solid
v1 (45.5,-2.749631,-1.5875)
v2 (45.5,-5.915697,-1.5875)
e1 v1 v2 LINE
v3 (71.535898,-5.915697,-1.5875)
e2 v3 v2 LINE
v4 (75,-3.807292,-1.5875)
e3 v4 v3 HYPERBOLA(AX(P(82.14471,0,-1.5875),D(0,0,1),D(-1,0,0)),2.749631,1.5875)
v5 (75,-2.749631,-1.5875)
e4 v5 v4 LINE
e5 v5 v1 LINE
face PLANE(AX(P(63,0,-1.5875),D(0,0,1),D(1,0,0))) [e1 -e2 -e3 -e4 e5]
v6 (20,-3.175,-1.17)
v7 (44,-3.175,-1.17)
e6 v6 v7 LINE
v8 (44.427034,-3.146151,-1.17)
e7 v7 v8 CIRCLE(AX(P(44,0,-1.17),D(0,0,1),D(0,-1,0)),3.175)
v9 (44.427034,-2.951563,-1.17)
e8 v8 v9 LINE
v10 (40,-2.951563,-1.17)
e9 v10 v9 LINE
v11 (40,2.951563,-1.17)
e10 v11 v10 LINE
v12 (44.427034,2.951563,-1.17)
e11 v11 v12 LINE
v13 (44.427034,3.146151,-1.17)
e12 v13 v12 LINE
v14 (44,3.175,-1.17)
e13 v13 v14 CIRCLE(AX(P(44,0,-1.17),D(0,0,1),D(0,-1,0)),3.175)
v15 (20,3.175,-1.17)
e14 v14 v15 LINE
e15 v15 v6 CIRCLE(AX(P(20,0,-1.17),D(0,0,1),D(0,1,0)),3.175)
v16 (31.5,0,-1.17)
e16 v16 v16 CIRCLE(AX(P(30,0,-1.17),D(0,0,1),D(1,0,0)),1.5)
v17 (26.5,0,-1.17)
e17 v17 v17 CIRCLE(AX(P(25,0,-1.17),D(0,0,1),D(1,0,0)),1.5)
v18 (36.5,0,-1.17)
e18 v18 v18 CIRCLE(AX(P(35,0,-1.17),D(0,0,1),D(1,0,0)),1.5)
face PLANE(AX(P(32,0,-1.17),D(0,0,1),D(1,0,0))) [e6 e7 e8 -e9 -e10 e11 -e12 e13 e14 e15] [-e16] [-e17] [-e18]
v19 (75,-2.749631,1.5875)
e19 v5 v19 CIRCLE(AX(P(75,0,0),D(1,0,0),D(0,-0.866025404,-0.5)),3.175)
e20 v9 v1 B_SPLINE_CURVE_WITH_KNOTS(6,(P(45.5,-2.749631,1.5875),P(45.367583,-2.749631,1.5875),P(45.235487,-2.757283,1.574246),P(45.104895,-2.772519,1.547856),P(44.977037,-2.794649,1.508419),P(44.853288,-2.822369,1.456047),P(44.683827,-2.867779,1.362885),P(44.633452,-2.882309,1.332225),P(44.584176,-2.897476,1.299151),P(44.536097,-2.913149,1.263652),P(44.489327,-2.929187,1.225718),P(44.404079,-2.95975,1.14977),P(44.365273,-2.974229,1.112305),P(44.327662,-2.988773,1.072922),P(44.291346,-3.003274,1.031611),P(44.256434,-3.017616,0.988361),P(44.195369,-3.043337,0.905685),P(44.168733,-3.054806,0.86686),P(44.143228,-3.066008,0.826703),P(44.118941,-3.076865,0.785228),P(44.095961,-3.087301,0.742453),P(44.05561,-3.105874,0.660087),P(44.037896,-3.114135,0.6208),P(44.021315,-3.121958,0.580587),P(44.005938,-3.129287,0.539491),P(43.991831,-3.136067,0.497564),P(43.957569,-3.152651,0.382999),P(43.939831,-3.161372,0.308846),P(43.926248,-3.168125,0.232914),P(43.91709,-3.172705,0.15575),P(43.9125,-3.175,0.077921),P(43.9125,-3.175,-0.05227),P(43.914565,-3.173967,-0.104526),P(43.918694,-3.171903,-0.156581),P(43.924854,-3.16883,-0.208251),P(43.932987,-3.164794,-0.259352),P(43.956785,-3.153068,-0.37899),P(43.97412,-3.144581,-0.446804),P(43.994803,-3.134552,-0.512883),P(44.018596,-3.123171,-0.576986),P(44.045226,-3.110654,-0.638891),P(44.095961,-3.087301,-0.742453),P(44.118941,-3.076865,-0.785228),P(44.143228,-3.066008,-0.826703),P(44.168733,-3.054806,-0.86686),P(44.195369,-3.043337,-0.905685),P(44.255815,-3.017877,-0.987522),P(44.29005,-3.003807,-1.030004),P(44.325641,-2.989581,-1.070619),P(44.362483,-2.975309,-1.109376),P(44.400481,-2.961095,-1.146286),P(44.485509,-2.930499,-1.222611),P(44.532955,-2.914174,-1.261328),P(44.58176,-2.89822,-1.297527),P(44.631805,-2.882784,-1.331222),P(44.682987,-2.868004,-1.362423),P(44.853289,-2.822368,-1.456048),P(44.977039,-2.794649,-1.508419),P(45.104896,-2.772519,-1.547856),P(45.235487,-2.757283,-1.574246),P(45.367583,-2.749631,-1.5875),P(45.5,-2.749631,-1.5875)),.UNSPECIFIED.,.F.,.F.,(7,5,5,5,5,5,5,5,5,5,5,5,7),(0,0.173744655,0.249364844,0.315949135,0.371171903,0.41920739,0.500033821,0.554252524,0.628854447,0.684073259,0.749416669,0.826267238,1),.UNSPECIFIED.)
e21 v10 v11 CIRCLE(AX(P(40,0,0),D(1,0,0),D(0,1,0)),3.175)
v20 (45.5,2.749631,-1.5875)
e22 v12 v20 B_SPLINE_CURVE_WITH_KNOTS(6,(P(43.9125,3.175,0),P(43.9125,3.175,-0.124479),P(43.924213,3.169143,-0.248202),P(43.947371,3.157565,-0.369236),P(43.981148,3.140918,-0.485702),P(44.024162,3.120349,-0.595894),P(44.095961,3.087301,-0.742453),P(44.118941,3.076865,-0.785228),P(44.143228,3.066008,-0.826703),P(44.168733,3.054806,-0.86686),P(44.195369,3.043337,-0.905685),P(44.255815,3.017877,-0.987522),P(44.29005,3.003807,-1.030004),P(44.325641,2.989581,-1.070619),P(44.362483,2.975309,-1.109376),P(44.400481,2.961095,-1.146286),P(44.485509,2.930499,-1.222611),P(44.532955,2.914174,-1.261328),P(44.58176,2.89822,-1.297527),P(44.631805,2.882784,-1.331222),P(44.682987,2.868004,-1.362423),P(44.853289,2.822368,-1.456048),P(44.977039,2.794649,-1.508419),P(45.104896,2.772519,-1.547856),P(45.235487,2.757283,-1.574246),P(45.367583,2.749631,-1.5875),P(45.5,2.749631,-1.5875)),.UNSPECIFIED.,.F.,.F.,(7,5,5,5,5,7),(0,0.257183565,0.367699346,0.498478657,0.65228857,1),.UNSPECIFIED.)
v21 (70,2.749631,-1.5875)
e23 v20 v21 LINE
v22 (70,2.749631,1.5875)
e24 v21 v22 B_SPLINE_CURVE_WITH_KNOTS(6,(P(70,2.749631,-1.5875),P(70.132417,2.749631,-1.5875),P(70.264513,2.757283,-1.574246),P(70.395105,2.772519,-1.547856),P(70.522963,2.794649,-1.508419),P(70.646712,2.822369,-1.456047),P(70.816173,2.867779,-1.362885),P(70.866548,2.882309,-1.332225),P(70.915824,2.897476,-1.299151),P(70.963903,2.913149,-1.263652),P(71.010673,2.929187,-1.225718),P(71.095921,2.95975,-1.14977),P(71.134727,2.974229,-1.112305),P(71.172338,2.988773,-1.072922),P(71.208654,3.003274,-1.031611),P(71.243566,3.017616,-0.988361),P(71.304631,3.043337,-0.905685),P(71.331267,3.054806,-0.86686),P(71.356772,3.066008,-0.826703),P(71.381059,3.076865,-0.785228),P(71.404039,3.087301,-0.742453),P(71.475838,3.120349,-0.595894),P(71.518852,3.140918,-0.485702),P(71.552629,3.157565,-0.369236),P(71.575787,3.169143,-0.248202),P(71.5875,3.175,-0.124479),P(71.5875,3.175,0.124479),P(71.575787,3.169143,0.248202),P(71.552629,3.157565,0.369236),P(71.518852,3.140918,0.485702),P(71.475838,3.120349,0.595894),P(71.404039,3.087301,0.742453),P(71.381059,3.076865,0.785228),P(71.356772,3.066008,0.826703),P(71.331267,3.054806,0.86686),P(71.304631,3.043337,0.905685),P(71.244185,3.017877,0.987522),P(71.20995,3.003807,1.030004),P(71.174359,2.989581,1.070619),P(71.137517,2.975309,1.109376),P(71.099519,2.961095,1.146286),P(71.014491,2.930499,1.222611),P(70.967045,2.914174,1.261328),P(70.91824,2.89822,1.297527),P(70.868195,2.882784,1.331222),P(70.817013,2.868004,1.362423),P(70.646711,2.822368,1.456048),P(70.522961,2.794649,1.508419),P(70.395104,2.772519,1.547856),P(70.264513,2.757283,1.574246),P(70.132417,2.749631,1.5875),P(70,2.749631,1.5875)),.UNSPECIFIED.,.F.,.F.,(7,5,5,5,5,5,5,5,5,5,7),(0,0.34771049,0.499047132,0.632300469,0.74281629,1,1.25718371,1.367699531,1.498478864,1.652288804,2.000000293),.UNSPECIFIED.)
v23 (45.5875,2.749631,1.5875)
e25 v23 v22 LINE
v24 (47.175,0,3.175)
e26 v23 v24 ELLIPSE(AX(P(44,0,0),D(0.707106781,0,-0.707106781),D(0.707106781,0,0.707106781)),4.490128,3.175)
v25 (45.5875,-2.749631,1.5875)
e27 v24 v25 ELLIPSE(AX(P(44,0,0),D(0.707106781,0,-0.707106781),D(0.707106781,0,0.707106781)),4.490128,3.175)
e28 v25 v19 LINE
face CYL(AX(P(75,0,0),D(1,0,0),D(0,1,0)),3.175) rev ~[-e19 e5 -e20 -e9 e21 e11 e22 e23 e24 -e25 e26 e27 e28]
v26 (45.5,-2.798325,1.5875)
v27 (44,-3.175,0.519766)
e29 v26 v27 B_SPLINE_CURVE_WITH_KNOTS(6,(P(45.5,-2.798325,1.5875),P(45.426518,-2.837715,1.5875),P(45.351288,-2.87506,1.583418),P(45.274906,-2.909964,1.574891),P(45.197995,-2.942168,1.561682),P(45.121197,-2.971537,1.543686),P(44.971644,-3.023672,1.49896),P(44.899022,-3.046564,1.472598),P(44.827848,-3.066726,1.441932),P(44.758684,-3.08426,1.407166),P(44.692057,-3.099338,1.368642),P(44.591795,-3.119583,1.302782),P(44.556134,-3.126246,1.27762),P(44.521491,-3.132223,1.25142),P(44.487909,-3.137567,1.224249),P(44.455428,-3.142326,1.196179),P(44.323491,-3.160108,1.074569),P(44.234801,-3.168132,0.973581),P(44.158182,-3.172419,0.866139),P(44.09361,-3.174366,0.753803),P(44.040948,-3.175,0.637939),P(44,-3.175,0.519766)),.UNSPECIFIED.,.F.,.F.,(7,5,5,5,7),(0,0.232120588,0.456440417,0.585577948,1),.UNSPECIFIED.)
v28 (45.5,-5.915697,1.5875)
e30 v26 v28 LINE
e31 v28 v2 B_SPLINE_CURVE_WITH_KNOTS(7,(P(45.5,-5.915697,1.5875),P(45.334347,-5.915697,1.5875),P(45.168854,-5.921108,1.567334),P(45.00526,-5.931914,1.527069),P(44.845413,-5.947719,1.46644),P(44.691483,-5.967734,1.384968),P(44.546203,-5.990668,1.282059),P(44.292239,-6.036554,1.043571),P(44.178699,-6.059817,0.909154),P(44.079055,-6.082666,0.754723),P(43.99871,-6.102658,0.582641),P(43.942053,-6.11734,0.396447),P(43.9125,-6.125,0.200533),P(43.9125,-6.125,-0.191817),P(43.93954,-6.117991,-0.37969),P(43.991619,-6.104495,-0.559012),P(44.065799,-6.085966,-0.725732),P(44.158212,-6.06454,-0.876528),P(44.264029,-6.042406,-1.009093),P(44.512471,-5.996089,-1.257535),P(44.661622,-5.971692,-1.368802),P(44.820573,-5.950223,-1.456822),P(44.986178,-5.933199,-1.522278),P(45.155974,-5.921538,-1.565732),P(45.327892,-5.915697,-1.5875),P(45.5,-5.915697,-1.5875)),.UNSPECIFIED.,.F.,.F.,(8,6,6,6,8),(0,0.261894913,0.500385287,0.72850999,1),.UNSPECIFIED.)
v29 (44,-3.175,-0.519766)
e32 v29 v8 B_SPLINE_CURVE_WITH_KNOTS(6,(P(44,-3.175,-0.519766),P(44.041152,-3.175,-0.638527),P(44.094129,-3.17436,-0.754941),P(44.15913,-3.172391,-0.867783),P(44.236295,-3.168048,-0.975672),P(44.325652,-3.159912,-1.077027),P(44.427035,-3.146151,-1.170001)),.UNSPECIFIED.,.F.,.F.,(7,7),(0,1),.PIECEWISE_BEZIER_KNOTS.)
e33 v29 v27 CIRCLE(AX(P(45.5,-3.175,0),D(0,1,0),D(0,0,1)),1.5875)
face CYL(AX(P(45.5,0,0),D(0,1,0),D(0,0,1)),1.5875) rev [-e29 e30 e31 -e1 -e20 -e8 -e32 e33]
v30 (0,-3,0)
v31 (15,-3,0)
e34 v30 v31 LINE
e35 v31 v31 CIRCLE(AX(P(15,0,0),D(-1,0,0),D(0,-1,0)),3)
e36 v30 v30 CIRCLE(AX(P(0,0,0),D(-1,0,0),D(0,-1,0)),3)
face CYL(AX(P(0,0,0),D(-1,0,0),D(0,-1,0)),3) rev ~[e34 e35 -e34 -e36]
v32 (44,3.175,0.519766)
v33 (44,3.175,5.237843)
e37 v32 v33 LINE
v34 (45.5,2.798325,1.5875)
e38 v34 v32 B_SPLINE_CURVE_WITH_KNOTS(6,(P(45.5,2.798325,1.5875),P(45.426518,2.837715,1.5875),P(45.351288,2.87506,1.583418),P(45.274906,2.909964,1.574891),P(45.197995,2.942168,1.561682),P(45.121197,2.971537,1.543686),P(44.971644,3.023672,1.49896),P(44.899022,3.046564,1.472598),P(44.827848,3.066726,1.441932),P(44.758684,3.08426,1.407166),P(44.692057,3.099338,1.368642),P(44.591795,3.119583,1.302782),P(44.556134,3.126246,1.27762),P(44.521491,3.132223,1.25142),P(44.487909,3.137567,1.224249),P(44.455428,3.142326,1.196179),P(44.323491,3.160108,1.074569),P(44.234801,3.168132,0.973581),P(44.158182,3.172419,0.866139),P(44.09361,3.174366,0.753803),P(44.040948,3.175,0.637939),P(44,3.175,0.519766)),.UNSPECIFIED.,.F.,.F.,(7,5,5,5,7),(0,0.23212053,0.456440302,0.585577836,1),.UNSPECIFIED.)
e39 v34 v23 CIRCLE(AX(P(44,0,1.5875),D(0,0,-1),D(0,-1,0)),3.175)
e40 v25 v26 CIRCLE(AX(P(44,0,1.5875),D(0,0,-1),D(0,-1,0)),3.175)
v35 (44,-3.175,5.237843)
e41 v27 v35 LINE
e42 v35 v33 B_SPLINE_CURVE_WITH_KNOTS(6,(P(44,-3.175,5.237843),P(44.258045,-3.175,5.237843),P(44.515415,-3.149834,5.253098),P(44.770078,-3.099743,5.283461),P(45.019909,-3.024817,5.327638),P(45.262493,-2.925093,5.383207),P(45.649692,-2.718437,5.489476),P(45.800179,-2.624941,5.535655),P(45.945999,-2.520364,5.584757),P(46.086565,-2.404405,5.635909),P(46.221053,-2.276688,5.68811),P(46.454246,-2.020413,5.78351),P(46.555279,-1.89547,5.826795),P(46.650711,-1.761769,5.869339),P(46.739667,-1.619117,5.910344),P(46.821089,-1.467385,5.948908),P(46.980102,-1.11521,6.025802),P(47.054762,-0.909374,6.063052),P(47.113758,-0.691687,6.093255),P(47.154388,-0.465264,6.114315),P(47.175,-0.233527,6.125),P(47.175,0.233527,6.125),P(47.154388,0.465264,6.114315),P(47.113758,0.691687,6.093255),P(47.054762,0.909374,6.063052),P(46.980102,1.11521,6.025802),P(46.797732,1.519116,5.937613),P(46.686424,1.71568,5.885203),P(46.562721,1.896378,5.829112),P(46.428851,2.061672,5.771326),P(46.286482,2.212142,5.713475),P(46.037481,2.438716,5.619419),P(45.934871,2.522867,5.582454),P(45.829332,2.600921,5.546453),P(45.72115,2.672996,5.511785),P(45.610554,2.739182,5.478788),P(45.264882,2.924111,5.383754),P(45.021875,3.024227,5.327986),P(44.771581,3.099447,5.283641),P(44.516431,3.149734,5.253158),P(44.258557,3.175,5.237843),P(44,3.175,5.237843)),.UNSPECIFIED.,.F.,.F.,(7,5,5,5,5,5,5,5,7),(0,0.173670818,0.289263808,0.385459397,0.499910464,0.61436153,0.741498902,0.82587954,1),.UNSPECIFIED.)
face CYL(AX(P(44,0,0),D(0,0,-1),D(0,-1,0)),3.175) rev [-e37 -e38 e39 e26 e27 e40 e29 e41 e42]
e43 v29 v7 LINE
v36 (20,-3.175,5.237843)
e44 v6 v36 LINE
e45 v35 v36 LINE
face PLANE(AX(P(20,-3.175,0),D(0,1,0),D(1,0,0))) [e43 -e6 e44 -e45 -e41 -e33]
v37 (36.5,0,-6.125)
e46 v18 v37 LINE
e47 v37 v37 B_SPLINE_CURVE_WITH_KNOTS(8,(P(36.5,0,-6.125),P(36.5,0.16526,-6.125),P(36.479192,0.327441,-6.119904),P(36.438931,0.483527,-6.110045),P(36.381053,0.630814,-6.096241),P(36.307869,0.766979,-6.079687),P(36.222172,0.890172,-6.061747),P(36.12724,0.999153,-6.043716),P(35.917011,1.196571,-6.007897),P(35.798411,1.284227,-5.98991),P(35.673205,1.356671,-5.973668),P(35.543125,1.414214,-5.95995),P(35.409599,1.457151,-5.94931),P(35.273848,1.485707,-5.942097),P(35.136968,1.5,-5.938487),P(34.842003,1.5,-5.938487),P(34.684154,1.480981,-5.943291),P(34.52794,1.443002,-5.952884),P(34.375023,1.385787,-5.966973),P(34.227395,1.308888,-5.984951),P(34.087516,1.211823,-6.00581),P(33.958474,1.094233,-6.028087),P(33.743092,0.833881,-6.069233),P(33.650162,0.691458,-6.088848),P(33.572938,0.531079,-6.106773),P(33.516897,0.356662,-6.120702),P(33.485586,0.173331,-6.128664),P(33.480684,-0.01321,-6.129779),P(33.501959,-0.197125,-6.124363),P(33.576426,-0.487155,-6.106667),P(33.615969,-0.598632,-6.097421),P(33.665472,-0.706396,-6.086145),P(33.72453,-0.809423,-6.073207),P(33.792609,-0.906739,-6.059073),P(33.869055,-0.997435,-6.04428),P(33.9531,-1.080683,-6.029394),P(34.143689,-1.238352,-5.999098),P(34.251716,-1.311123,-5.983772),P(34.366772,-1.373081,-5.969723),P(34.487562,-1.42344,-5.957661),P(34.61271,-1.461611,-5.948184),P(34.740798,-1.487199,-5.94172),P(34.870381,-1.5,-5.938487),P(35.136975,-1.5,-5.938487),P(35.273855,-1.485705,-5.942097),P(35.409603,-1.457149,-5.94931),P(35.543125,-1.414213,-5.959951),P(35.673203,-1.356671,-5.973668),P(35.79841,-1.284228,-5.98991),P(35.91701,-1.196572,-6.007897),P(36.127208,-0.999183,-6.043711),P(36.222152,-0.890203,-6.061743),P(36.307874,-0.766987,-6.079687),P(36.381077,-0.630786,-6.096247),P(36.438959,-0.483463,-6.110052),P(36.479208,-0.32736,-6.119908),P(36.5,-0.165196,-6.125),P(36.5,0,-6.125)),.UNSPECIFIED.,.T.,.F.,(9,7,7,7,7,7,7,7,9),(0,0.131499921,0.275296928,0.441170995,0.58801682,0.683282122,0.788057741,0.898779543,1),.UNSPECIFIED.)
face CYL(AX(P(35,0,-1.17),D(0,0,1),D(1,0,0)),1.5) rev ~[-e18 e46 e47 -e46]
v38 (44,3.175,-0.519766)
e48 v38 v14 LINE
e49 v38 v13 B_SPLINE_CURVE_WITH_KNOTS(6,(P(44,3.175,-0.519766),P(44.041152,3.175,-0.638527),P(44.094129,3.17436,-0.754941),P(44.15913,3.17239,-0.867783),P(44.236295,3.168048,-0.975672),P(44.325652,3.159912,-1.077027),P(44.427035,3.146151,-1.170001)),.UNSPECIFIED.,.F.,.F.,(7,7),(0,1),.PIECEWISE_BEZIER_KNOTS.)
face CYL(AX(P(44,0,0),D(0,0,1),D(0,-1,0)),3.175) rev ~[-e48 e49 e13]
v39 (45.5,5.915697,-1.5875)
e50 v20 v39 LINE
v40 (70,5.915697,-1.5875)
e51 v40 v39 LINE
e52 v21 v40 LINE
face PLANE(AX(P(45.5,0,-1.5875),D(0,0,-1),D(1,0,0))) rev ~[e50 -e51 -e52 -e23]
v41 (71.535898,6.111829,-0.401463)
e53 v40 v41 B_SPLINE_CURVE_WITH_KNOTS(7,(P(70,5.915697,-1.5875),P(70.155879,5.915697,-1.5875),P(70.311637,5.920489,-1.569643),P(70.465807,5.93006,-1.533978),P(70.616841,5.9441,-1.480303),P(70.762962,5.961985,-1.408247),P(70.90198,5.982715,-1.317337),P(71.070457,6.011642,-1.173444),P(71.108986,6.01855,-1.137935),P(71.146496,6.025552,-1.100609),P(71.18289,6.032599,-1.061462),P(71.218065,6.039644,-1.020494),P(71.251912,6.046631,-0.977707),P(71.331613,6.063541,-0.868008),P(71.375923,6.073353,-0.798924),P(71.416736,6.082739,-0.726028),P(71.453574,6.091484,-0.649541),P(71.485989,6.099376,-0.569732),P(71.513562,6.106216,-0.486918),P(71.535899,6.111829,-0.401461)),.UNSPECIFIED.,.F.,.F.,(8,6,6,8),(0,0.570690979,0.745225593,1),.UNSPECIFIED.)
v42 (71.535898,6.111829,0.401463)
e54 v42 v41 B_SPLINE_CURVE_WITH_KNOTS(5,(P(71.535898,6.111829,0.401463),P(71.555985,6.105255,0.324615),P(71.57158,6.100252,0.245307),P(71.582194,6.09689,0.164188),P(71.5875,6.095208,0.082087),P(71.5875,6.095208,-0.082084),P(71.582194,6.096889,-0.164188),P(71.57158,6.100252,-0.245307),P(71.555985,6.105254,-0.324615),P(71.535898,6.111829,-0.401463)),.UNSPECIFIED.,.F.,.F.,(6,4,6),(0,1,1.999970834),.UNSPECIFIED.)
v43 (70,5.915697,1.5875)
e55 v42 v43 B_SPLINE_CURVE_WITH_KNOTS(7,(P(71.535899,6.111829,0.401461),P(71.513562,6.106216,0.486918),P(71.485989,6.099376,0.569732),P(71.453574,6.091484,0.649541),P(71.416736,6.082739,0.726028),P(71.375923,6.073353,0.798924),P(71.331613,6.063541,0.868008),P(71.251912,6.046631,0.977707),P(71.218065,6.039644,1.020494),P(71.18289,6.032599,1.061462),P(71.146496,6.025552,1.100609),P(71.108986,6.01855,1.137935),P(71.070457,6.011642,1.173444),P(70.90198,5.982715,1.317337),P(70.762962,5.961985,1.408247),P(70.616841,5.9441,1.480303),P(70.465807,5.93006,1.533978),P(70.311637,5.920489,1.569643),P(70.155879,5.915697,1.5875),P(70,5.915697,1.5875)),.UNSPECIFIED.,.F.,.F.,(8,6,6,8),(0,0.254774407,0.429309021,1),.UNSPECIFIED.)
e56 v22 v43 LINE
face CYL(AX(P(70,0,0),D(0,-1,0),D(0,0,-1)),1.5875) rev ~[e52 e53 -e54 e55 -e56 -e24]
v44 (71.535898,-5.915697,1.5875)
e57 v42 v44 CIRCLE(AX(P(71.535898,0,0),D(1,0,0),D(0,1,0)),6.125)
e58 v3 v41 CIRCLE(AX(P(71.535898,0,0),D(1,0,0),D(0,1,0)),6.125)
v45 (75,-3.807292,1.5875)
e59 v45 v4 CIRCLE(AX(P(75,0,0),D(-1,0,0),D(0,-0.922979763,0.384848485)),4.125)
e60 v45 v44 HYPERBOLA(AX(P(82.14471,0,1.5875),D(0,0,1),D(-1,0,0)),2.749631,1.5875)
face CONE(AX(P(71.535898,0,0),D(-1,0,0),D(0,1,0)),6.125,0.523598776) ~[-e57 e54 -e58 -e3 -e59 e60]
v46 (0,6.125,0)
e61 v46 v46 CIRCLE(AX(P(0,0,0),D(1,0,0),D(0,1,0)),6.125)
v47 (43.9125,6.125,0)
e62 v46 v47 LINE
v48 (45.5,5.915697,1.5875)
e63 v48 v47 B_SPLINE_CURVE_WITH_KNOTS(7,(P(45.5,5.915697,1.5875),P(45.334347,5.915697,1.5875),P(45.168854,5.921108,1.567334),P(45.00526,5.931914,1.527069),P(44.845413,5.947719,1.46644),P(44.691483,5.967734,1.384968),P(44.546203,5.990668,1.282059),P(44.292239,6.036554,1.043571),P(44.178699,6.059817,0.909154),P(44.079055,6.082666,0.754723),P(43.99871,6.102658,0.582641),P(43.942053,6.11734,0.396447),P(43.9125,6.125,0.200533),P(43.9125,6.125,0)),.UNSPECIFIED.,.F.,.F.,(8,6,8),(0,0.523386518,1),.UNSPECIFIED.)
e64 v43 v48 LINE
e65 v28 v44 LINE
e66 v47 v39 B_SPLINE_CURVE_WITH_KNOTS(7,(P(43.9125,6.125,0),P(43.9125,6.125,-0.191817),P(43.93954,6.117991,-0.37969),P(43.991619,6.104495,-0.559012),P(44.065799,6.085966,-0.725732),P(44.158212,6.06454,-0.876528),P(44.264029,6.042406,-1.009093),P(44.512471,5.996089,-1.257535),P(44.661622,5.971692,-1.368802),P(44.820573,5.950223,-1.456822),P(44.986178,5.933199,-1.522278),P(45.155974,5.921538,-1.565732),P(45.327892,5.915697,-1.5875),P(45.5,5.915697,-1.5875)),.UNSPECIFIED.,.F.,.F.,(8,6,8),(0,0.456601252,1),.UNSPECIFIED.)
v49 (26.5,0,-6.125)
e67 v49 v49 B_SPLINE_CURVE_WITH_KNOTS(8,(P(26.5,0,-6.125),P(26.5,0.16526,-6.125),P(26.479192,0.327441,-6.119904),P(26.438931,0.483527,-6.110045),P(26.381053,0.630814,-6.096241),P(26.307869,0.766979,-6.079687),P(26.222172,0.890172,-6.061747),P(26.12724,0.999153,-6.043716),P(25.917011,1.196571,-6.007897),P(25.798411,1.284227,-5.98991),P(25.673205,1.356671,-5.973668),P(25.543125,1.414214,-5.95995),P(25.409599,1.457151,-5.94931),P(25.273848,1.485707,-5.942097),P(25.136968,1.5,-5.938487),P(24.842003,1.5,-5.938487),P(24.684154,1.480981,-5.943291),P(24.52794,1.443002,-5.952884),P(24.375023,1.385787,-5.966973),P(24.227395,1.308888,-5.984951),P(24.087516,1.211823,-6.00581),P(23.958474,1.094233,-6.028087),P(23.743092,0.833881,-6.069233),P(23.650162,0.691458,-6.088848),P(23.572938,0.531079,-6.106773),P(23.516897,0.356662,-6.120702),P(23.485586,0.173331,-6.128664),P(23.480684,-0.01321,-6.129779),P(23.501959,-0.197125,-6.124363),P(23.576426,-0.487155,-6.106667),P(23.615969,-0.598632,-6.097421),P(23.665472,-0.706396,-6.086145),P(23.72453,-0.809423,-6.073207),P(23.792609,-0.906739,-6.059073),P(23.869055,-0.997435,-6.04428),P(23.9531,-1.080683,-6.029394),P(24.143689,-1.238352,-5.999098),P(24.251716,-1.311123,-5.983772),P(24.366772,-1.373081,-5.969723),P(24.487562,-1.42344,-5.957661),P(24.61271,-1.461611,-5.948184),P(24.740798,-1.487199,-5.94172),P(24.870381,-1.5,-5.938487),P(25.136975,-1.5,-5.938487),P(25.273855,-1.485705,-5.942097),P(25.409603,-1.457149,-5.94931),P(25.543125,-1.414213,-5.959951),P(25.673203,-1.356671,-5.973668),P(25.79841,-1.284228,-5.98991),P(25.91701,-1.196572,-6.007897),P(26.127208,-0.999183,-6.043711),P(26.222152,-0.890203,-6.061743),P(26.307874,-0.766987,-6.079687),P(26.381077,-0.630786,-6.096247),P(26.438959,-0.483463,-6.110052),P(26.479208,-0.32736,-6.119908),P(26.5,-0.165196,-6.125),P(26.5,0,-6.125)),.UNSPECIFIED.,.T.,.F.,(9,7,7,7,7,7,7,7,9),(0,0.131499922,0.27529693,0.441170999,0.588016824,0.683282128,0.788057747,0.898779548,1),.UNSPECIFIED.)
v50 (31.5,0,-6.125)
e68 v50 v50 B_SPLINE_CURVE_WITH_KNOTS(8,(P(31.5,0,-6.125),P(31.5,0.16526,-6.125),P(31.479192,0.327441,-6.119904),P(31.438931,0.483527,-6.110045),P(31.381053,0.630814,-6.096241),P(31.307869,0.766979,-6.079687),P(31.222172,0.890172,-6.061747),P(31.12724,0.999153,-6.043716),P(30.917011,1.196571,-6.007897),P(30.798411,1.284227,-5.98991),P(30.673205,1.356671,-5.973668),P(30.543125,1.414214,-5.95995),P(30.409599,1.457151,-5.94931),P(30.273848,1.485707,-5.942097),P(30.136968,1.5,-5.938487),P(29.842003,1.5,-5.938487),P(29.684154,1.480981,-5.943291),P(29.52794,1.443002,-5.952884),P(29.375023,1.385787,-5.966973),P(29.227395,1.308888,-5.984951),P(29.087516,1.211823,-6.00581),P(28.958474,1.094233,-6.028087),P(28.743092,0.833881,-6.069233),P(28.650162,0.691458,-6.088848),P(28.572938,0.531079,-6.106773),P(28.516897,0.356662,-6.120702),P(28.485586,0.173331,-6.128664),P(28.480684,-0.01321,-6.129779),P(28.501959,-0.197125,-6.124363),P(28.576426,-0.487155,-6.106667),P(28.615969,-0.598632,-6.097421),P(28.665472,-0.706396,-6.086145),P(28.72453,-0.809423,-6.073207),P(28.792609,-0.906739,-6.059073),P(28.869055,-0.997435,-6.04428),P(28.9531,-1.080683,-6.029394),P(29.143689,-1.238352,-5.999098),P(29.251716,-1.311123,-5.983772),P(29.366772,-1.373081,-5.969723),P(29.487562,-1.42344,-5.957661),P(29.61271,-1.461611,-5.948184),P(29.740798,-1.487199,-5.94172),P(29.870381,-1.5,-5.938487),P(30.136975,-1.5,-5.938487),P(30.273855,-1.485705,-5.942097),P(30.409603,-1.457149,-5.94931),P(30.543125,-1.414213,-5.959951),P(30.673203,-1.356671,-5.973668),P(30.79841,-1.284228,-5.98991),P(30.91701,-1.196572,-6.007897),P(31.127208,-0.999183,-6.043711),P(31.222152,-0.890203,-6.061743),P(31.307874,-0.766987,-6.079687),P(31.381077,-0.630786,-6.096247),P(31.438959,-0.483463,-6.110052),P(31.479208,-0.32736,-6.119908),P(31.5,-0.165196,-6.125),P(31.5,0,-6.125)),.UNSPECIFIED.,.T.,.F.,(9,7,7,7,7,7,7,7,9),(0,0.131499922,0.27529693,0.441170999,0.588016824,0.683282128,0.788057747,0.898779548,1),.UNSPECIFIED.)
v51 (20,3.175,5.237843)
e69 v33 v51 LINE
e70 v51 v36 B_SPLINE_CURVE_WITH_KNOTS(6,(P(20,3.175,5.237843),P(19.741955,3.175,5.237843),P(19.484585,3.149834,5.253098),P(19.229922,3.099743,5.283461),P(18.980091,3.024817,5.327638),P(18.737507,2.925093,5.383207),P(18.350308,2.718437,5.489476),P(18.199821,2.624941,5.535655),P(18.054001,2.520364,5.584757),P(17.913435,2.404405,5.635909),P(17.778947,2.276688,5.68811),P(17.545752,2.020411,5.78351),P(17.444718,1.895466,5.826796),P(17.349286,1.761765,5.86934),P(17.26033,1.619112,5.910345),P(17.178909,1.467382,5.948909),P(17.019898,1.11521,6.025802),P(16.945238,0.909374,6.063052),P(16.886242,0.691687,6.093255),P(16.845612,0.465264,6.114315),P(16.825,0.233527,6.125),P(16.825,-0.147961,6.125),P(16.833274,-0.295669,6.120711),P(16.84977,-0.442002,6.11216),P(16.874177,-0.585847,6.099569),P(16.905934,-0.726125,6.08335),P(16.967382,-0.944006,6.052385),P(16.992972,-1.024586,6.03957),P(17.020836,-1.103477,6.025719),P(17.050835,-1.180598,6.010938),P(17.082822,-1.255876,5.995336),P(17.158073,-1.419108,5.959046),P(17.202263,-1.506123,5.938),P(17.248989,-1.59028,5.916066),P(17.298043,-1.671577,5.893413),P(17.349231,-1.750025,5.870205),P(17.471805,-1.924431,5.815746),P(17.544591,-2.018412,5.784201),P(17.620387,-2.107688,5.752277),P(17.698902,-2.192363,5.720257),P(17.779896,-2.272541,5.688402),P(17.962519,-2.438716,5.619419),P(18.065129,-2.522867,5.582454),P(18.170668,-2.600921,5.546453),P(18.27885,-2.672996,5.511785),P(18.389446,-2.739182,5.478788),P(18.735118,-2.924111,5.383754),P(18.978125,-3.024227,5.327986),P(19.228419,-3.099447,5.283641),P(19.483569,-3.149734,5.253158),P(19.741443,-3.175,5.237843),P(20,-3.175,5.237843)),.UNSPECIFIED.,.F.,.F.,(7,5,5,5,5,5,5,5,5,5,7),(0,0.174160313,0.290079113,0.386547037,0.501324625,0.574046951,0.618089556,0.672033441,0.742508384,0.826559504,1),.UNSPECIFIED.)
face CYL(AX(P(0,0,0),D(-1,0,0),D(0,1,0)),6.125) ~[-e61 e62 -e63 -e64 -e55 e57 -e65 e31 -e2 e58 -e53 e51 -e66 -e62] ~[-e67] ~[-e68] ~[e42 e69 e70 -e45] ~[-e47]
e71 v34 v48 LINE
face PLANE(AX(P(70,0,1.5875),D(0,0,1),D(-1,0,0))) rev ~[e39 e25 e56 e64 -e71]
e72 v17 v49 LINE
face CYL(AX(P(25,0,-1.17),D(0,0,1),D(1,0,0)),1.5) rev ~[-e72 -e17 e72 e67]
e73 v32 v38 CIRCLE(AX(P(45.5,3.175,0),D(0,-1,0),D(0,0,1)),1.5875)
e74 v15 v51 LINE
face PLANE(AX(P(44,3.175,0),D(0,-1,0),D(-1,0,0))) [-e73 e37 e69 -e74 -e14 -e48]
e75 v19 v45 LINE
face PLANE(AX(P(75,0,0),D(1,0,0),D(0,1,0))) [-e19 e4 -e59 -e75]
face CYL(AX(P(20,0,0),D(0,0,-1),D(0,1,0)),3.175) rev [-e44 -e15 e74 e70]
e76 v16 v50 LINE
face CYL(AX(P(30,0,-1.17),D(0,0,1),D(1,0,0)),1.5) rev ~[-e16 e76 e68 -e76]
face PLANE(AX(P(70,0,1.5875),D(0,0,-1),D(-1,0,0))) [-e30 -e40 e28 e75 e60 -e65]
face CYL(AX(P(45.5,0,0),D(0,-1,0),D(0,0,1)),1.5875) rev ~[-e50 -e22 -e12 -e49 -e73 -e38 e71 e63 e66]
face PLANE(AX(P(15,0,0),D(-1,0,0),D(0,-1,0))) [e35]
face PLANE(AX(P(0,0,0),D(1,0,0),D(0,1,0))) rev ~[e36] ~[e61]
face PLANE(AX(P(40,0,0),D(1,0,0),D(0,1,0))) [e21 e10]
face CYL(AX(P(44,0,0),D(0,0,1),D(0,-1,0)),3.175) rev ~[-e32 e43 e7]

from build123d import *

# Parameters (mm, degrees)
F0_R           = 6.125
F1_DEPTH       = 75
F2_R           = 3.175
F3_DEPTH       = 35
F4_R           = 3
F5_DEPTH       = 15
F6_SIZE2       = 3.4641016151
F6_SIZE        = 2
F8_DEPTH       = 6.126
F8_DEPTH_BACK  = 1.17
F10_DEPTH      = 6.1260001
F10_DEPTH_BACK = 6.1260001
F11_W          = 15
F11_H          = 3.175
F12_DEPTH      = 25.0000003725
F13_R          = 1.5
F14_DEPTH      = 4.9560001


with BuildPart() as f1:
    # F0 (on Right) → F1 (new body)
    with BuildSketch(Plane.YZ):
        Circle(F0_R)
    extrude(amount=F1_DEPTH)

    # F2 (on face) → F3 (cut)
    with BuildSketch(Plane.YZ.offset(75)):
        Circle(F2_R)
    extrude(amount=-F3_DEPTH, mode=Mode.SUBTRACT)

    # F4 (on face) → F5 (cut)
    with BuildSketch(Plane(origin=(0, 0, 0), x_dir=(0, -1, 0), z_dir=(-1, 0, 0))):
        Circle(F4_R)
    extrude(amount=-F5_DEPTH, mode=Mode.SUBTRACT)

    # F6
    f6_edges = [f1.edges().sort_by_distance(p)[0] for p in [
        (75, -6.125, 0),
    ]]
    f6_side = f1.faces().sort_by_distance((75, -5.951759, 0))[0]
    chamfer(f6_edges, length=F6_SIZE, length2=F6_SIZE2, reference=f6_side)

    # F7 (on Top) → F8 (cut, two sides)
    with BuildSketch(Plane.XY) as f8_sk:
        with BuildLine():
            Line((44, 3.175), (20, 3.175))
            ThreePointArc((20, 3.175), (16.825, 0), (20, -3.175))
            Line((20, -3.175), (44, -3.175))
            ThreePointArc((44, -3.175), (47.175, 0), (44, 3.175))
        make_face()
    extrude(amount=F8_DEPTH, mode=Mode.SUBTRACT)
    extrude(f8_sk.sketch, amount=-F8_DEPTH_BACK, mode=Mode.SUBTRACT)

    # F9 (on Front) → F10 (cut, two sides)
    with BuildSketch(Plane.XZ) as f10_sk:
        with BuildLine():
            Line((70, 1.5875), (45.5, 1.5875))
            ThreePointArc((45.5, 1.5875), (43.9125, 0), (45.5, -1.5875))
            Line((45.5, -1.5875), (70, -1.5875))
            ThreePointArc((70, -1.5875), (71.5875, 0), (70, 1.5875))
        make_face()
    extrude(amount=-F10_DEPTH, mode=Mode.SUBTRACT)
    extrude(f10_sk.sketch, amount=F10_DEPTH_BACK, mode=Mode.SUBTRACT)

    # F11 (on Front) → F12 (cut)
    with BuildSketch(Plane.XZ):
        with Locations((70.5, 0)):
            Rectangle(F11_W, F11_H)
    extrude(amount=F12_DEPTH, mode=Mode.SUBTRACT)

    # F13 (on face) → F14 (cut, through all)
    with BuildSketch(Plane.XY.offset(-1.17)):
        with Locations((25, 0)):
            Circle(F13_R)
        with Locations((30, 0)):
            Circle(F13_R)
        with Locations((35, 0)):
            Circle(F13_R)
    extrude(amount=-F14_DEPTH, mode=Mode.SUBTRACT)


solid = f1.part
